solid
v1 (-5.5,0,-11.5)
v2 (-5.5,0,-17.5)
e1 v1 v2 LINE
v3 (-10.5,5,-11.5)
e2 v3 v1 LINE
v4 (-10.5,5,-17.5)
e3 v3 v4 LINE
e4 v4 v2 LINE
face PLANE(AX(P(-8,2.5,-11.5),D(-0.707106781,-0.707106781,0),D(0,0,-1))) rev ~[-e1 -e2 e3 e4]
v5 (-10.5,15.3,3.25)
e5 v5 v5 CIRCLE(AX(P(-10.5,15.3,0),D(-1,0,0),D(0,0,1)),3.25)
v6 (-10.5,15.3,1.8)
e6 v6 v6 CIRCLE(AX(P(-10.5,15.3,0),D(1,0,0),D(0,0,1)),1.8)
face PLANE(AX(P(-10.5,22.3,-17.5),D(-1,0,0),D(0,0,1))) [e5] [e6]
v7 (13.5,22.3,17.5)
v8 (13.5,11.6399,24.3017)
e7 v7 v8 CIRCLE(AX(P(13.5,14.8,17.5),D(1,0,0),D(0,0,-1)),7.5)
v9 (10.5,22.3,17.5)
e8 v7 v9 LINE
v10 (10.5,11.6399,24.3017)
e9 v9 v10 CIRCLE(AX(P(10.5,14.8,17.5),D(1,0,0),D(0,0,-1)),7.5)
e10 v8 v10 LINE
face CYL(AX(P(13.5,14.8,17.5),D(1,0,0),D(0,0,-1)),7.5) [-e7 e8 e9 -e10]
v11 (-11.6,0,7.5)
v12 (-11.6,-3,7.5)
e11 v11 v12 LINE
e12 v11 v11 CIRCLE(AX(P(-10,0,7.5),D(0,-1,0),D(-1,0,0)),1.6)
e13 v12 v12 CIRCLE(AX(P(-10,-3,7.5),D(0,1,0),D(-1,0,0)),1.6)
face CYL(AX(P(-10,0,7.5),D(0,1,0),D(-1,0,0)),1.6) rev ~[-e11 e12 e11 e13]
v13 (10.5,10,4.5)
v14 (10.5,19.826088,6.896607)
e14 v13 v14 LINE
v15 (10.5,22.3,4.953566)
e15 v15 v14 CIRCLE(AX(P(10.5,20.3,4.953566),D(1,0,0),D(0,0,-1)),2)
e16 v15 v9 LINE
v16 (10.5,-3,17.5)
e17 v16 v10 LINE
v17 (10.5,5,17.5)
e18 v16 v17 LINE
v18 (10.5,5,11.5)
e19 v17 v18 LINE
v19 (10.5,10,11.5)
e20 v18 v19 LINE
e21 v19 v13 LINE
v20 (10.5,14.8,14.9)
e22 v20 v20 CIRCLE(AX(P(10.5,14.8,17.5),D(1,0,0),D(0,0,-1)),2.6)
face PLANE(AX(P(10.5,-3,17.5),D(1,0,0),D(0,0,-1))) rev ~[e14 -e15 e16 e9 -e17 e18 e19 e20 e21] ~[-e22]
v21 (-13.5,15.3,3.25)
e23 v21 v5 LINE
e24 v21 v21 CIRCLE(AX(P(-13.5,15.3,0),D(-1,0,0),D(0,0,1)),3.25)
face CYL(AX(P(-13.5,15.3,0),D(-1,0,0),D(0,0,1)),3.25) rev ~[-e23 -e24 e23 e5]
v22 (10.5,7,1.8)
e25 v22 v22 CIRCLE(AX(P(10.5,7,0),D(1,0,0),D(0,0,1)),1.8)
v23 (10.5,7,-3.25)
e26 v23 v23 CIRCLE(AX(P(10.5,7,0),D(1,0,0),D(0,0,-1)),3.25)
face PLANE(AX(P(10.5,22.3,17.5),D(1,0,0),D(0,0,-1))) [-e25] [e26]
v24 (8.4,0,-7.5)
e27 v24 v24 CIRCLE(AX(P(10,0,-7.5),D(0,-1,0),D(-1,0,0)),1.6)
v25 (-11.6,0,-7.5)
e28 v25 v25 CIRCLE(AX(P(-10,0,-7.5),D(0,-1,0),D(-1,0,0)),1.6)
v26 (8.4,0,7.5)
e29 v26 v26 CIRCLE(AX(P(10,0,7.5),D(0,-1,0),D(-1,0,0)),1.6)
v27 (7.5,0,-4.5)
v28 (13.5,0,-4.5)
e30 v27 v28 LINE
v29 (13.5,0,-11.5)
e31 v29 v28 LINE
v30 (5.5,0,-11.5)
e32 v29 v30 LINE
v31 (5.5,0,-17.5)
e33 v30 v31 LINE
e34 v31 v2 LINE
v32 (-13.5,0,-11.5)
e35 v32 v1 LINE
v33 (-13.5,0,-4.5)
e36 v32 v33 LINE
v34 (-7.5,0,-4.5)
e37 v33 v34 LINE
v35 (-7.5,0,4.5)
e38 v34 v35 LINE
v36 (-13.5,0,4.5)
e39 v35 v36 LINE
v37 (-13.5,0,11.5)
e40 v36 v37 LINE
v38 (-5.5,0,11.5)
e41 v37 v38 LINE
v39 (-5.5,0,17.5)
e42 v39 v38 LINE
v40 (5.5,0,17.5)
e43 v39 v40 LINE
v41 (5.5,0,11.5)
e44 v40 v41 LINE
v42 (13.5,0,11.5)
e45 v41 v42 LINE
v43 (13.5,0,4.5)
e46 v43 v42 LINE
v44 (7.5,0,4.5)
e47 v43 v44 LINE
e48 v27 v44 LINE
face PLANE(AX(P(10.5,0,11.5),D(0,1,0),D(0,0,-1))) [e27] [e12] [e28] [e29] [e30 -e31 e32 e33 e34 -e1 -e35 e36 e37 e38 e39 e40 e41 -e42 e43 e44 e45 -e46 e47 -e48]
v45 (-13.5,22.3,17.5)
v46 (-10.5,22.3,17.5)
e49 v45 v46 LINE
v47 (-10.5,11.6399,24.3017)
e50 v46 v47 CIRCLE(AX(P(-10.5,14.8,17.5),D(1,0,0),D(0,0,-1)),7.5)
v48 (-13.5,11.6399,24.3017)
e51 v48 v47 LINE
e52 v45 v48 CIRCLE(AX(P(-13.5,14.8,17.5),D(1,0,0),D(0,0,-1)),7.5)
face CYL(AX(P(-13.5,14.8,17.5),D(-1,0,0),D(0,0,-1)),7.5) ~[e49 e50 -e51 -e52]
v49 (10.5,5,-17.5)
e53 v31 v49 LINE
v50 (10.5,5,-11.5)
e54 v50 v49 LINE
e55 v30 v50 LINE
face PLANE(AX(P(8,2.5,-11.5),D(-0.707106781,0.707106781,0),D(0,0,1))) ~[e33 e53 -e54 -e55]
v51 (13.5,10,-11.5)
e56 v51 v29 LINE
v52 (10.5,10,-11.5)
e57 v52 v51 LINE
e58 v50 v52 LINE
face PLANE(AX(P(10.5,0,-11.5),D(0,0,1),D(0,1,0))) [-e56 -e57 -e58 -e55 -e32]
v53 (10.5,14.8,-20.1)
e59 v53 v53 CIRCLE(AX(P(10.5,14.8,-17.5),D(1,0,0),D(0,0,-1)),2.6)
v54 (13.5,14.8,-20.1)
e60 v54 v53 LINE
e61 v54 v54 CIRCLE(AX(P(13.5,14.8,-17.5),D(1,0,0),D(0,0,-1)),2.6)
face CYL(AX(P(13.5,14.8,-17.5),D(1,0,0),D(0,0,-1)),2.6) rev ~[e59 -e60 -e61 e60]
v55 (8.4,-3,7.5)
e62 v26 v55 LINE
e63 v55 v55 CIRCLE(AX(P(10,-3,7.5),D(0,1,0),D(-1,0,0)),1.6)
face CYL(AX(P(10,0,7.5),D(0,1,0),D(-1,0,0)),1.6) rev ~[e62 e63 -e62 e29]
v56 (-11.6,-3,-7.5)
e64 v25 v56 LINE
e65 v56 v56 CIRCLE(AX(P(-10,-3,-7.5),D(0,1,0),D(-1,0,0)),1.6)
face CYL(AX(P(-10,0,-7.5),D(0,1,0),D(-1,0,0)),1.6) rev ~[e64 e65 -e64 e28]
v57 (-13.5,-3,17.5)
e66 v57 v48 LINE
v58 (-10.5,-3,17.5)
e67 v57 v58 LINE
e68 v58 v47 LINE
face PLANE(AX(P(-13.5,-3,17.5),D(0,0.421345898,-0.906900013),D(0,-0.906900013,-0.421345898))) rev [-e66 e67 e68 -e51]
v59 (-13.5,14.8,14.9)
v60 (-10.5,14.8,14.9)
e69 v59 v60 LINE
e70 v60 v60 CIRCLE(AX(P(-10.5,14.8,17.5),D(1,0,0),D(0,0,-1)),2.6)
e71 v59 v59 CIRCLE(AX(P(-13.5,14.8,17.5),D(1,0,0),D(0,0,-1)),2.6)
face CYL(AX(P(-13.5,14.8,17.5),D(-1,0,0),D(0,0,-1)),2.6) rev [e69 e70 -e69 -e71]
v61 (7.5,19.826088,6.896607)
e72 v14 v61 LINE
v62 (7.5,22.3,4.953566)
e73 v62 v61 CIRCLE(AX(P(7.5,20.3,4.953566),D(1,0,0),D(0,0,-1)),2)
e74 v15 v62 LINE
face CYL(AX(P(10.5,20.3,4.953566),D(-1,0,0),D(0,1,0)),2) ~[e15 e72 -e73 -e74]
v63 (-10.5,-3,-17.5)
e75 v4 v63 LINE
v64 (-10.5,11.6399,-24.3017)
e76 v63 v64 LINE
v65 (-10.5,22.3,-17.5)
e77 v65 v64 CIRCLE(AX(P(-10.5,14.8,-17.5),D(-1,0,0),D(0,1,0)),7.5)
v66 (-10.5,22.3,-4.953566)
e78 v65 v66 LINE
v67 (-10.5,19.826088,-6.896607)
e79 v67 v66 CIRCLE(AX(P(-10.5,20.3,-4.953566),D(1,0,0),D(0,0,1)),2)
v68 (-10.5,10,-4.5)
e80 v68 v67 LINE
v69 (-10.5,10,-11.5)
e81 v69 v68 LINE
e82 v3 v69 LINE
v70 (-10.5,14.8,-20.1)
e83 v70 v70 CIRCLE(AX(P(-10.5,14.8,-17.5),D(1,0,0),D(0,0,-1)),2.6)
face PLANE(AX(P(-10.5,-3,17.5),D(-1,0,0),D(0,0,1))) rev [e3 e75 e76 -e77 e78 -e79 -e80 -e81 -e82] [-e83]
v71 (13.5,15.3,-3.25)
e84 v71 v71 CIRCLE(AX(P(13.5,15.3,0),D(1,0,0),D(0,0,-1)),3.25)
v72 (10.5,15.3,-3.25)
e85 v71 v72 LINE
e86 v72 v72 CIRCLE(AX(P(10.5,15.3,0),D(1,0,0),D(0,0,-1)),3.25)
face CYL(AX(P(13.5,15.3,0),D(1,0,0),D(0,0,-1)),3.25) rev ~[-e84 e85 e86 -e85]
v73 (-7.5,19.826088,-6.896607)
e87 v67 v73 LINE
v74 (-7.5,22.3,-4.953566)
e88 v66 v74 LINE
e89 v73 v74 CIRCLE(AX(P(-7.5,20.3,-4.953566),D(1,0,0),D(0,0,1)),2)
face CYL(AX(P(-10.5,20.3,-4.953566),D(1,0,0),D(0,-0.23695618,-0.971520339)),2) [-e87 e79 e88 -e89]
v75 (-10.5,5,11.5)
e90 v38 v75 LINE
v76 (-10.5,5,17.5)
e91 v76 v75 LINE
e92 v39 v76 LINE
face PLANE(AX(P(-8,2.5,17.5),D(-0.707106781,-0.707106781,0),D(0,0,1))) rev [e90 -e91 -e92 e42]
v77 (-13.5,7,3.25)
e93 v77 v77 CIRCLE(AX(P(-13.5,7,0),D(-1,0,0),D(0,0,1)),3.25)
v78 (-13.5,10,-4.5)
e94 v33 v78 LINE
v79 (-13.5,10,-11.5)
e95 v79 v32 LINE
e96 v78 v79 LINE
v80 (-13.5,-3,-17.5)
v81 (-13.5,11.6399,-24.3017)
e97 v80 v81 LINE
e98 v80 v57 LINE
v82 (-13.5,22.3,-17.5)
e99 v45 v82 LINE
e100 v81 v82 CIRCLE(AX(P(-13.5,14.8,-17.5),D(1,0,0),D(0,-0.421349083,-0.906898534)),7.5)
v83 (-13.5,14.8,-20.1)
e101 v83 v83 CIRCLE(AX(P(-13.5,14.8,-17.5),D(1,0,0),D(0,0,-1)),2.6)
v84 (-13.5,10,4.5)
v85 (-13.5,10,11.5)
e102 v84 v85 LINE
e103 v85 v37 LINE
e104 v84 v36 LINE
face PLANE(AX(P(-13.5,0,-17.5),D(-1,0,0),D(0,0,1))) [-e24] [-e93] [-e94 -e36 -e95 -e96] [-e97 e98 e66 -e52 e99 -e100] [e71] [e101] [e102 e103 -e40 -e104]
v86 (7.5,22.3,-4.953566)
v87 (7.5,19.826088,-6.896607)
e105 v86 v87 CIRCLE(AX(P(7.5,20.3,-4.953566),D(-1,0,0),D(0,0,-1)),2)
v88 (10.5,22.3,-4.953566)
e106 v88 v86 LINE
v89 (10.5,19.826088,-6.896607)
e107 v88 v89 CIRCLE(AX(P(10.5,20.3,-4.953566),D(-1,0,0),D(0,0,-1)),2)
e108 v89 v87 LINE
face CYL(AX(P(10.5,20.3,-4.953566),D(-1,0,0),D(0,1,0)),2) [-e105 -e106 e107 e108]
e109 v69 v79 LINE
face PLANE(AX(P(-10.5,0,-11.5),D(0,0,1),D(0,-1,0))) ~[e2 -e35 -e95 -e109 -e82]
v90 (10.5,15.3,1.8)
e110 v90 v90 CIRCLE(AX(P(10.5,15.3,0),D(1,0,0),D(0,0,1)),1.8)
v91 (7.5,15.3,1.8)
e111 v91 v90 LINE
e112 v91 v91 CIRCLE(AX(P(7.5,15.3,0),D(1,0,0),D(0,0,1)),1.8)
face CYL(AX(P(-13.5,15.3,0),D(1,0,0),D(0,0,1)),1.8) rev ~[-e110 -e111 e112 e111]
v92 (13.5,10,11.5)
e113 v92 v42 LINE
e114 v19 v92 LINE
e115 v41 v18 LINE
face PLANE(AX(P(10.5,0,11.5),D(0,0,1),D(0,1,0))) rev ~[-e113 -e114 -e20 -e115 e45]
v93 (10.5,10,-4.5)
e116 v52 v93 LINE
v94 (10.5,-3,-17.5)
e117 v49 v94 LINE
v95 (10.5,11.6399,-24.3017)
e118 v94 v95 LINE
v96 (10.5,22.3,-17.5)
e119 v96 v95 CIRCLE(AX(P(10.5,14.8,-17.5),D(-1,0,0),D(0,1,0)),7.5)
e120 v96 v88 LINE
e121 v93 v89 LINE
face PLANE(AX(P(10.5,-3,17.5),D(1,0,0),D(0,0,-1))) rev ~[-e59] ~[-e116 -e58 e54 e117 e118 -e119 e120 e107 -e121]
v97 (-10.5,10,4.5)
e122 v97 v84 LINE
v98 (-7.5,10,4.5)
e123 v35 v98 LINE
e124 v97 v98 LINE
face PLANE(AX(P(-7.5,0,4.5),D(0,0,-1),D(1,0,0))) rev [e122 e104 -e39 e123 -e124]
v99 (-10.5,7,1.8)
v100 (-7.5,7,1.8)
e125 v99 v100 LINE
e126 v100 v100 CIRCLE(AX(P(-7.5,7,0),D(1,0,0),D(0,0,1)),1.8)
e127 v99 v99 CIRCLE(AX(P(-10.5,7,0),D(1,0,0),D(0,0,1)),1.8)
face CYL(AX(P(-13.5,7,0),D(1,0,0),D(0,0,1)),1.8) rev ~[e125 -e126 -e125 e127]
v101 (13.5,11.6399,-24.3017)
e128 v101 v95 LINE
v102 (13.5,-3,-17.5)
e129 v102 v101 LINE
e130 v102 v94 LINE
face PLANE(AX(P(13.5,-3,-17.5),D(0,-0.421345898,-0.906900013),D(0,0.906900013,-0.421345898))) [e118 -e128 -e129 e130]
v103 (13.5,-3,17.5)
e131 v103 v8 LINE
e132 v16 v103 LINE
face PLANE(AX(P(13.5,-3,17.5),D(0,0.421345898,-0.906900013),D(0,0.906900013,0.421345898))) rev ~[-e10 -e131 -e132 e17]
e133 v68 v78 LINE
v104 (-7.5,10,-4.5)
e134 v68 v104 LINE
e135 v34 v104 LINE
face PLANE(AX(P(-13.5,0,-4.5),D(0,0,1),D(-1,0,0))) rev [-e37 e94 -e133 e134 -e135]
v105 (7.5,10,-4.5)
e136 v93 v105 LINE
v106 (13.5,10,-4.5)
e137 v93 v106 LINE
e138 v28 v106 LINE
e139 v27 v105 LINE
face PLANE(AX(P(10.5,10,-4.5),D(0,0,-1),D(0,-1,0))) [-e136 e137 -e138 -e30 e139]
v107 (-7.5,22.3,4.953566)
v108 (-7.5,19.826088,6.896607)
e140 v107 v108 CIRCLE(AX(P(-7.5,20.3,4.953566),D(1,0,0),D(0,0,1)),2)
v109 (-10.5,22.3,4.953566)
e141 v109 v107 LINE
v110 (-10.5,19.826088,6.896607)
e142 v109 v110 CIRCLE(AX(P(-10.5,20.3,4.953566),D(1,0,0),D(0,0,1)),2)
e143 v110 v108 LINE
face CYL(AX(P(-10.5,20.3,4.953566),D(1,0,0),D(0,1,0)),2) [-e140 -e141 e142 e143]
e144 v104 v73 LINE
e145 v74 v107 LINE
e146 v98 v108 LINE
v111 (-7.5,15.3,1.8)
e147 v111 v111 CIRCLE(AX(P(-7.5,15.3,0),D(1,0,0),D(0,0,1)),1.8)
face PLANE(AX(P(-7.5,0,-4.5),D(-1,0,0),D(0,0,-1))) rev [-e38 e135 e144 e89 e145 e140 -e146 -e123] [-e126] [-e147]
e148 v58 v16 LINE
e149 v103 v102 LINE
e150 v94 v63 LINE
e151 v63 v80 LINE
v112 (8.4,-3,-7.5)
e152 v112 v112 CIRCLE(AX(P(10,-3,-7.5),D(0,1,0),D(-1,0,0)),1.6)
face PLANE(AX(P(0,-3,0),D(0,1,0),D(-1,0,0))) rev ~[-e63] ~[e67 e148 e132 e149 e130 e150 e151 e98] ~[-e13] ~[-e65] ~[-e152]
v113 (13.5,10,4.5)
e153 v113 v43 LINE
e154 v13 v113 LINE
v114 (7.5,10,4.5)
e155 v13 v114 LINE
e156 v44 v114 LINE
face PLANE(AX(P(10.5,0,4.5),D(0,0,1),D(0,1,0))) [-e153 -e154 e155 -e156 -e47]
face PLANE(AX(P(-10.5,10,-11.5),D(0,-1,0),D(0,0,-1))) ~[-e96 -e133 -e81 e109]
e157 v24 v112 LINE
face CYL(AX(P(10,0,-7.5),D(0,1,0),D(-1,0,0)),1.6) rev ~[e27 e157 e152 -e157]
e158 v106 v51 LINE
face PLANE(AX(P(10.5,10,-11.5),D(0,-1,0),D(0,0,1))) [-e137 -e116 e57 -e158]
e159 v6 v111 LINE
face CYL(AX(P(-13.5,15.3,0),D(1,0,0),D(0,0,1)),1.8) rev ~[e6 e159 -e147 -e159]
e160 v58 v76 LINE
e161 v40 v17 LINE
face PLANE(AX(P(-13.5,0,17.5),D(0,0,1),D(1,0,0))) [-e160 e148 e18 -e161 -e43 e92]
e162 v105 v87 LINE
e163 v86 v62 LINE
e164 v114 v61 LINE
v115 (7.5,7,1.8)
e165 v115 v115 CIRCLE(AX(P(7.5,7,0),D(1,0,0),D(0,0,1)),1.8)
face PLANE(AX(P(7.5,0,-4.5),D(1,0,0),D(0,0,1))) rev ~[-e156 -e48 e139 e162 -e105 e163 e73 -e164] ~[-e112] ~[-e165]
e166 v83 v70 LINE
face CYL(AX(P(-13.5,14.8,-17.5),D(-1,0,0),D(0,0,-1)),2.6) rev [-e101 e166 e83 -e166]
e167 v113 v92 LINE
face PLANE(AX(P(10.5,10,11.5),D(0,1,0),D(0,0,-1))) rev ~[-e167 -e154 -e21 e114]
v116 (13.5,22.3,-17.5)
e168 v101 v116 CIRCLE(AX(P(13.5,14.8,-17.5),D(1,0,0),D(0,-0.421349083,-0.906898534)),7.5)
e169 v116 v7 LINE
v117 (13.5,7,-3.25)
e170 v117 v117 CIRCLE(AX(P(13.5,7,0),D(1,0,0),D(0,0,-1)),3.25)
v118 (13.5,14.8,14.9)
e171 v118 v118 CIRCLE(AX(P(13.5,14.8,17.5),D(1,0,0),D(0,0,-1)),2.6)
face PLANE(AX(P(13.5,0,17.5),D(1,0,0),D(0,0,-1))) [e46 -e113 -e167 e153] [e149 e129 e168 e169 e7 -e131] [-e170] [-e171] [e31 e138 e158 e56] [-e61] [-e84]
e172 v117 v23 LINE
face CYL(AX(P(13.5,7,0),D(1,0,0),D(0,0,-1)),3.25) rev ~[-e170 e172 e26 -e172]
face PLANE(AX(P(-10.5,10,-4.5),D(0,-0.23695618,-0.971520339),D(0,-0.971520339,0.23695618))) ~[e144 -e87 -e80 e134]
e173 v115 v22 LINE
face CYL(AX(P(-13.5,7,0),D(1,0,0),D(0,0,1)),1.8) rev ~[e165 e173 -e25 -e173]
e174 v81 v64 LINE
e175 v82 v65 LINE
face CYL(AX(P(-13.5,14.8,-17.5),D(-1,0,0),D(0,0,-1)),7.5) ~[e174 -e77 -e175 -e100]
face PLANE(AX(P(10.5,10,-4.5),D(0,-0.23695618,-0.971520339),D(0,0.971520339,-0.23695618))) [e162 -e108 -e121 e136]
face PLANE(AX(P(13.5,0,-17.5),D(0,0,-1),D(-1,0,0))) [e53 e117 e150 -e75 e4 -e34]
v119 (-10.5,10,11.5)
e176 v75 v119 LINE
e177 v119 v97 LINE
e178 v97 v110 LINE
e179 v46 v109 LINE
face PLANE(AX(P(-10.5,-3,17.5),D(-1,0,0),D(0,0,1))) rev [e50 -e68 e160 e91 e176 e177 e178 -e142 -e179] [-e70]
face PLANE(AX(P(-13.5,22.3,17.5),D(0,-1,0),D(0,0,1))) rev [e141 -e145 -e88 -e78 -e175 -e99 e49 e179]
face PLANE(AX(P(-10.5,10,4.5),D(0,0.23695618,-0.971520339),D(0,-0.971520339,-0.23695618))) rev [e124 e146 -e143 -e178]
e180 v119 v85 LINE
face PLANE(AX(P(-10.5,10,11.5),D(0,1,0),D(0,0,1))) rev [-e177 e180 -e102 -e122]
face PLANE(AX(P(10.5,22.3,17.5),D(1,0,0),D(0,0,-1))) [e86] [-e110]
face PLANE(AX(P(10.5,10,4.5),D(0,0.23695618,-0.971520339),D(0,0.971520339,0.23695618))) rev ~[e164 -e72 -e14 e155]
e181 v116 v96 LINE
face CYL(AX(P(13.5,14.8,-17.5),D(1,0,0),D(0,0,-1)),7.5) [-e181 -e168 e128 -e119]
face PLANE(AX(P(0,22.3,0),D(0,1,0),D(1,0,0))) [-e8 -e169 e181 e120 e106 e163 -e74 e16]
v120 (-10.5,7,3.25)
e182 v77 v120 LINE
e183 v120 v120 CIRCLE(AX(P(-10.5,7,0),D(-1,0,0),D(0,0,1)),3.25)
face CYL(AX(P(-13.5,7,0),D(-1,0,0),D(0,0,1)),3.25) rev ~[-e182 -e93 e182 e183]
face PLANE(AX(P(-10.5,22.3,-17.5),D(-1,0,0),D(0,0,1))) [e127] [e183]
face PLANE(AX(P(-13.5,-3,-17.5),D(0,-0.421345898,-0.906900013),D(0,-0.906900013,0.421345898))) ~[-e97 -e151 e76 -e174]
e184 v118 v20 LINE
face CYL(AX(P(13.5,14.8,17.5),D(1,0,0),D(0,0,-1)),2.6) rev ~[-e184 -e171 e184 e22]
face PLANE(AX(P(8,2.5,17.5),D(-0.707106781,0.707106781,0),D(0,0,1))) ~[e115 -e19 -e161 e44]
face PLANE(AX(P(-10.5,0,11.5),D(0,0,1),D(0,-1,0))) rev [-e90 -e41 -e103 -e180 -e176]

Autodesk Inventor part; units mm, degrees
ref_plane "YZ Plane" through (0, 0, 0) normal (1, 0, 0) x (0, 1, 0)
ref_plane "XZ Plane" through (0, 0, 0) normal (0, 1, 0) x (-1, 0, 0)
ref_plane "XY Plane" through (0, 0, 0) normal (0, 0, 1) x (1, 0, 0)
sketch "Sketch8" plane through (0, 0, 0) normal (0, 1, 0) x (-1, 0, 0)
  line L0 (-13.5, -17.5) -> (13.5, -17.5)
  line L1 (13.5, -17.5) -> (13.5, 17.5)
  line L2 (13.5, 17.5) -> (-13.5, 17.5)
  line L3 (-13.5, 17.5) -> (-13.5, -17.5)
  line L4 (-13.5, -17.5) -> (13.5, 17.5) construction
  line L5 (13.5, -17.5) -> (-13.5, 17.5) construction
  circle A0 centre (10, -7.5) radius 1.6
  circle A1 centre (10, 7.5) radius 1.6
  circle A2 centre (-10, 7.5) radius 1.6
  circle A3 centre (-10, -7.5) radius 1.6
  point P0 (0, 0)
  dimension "d38" = 35
  dimension "d39" = 27
  dimension "d40" = 20
  dimension "d41" = 15
  dimension "d42" = 7.5
  dimension "d43" = 10
  dimension "d44" = 3.2
extrude "Extrusion7" add sketch "Sketch8" against normal blind 3
sketch "Sketch14" plane through (0, 0, 0) normal (0, 1, 0) x (1, 0, 0)
  line L0 (-13.5, 17.5) -> (-13.5, -17.5) projected
  line L1 (-13.5, -17.5) -> (13.5, -17.5) projected
  line L2 (13.5, -17.5) -> (13.5, 17.5) projected
  line L3 (13.5, 17.5) -> (-13.5, 17.5) projected
  circle A0 centre (-10, 7.5) radius 1.6 projected
  circle A1 centre (-10, -7.5) radius 1.6 projected
  circle A2 centre (10, -7.5) radius 1.6 projected
  circle A3 centre (10, 7.5) radius 1.6 projected
  line L4 (13.5, -17.5) -> (13.5, 17.5) projected
  line L5 (13.5, 4.5) -> (7.5, 4.5)
  line L6 (7.5, 4.5) -> (7.5, -4.5)
  line L7 (7.5, -4.5) -> (13.5, -4.5)
  line L8 (13.5, -4.5) -> (13.5, 4.5)
  point P0 (0, 0)
  dimension "d79" = 7.5
  dimension "d80" = 3
  dimension "d81" = 3
extrude "Extrusion12" add sketch "Sketch14" along normal blind 22.3 contours L2 L7 L6 L5
sketch "Sketch15" plane through (13.5, -3, 17.5) normal (1, 0, 0) x (0, 0, -1)
  line L0 (0, 3) -> (13, 3) projected
  line L1 (0, 3) -> (0, 0) projected
  line L2 (35, 0) -> (0, 0) projected
  line L3 (35, 3) -> (35, 0) projected
  line L4 (22, 3) -> (35, 3) projected
  line L5 (22, 3) -> (22, 25.3) projected
  line L6 (13, 25.3) -> (22, 25.3) projected
  line L7 (13, 3) -> (13, 25.3) projected
  line L8 (35, 3) -> (35, 0) projected
  line L9 (35, 0) -> (41.8017, 14.6399)
  circle A0 centre (35, 17.8) radius 2.6
  circle A1 centre (35, 17.8) radius 7.5
  circle A2 centre (0, 17.8) radius 2.6
  circle A3 centre (0, 17.8) radius 7.5
  line L10 (-275, -9) -> (225, -9) projected
  line L11 (0, 0) -> (-6.8017, 14.6399)
  line L12 (0, 25.3) -> (35, 25.3)
  point P0 (17.5, 3)
  point P1 (13, 25.3)
  point P2 (22, 25.3)
  dimension "d84" = 5.2
  dimension "d85" = 35
  dimension "d86" = 17.5
  dimension "d87" = 26.8
  dimension "d88" = 15
extrude "Extrusion13" add sketch "Sketch15" against normal blind 3 contours L1 L11 A3 L12 L7 L0 | L3 L4 L5 L12 A1 L9 | A3 | A1
sketch "Sketch16" plane through (10.5, -3, 17.5) normal (-1, 0, 0) x (0, 0, 1)
  arc A0 (-35, 25.3) -> (-41.8017, 14.6399) centre (-35, 17.8) ccw projected
  line L0 (-41.8017, 14.6399) -> (-35, 0) projected
  line L1 (-35, 3) -> (-35, 0) projected
  line L2 (-26.5199, 3) -> (-35, 3) projected
  line L3 (-26.5199, 3) -> (-23.4801, 3) projected
  line L4 (-22, 3) -> (-23.4801, 3) projected
  line L5 (-22, 25.3) -> (-22, 3) projected
  line L6 (-22, 25.3) -> (-35, 25.3) projected
  circle A1 centre (-35, 17.8) radius 2.6 projected
  arc A2 (6.8017, 14.6399) -> (0, 25.3) centre (0, 17.8) ccw projected
  line L7 (0, 25.3) -> (-13, 25.3) projected
  line L8 (-13, 3) -> (-13, 25.3) projected
  line L9 (-11.5199, 3) -> (-13, 3) projected
  line L10 (-11.5199, 3) -> (-8.4801, 3) projected
  line L11 (0, 3) -> (-8.4801, 3) projected
  line L12 (0, 0) -> (0, 3) projected
  line L13 (0, 0) -> (6.8017, 14.6399) projected
  circle A3 centre (0, 17.8) radius 2.6 projected
  line L14 (-22, 3) -> (-29, 3)
  line L15 (-29, 3) -> (-29, 13)
  line L16 (-29, 13) -> (-22, 13)
  line L17 (-22, 13) -> (-22, 3)
  line L18 (-11.5199, 3) -> (-13, 3) projected
  line L19 (-13, 3) -> (-6, 3)
  line L20 (-6, 3) -> (-6, 13)
  line L21 (-6, 13) -> (-13, 13)
  line L22 (-13, 13) -> (-13, 3)
  line L23 (-23.4, 0) -> (-26.6, 0) projected
  line L24 (-26.6, 3) -> (-23.4, 3) projected
  line L25 (-8.4, 0) -> (-11.6, 0) projected
  line L26 (-11.6, 3) -> (-8.4, 3) projected
  point P0 (-17.5, 3)
  point P1 (-10, 0)
  point P2 (-6, 3)
  dimension "d91" = 7
  dimension "d92" = 3
  dimension "d93" = 10
extrude "Extrusion14" cut sketch "Sketch16" against normal blind 22.3 contours L5 L4 L3 L2 L15 L16 | L21 L20 L11 L10 L9 L8
sketch "Sketch17" plane through (10.5, -3, 17.5) normal (-1, 0, 0) x (0, 0, 1)
  circle A0 centre (-35, 17.8) radius 2.6 projected
  line L0 (-29, 3) -> (-29, 13) projected
  line L1 (-29, 13) -> (-22, 13) projected
  line L2 (-22, 25.3) -> (-22, 13) projected
  line L3 (-22, 25.3) -> (-35, 25.3) projected
  arc A1 (-35, 25.3) -> (-41.8017, 14.6399) centre (-35, 17.8) ccw projected
  line L4 (-41.8017, 14.6399) -> (-35, 0) projected
  line L5 (-35, 3) -> (-35, 0) projected
  line L6 (-29, 3) -> (-35, 3) projected
  circle A2 centre (0, 17.8) radius 2.6 projected
  line L7 (-13, 13) -> (-6, 13) projected
  line L8 (-6, 13) -> (-6, 3) projected
  line L9 (0, 3) -> (-6, 3) projected
  line L10 (0, 0) -> (0, 3) projected
  line L11 (0, 0) -> (6.8017, 14.6399) projected
  arc A3 (6.8017, 14.6399) -> (0, 25.3) centre (0, 17.8) ccw projected
  line L12 (0, 25.3) -> (-13, 25.3) projected
  line L13 (-13, 13) -> (-13, 25.3) projected
  line L14 (-13, 13) -> (-10, 25.3)
  line L15 (-22, 13) -> (-25, 25.3)
  line L16 (-35, 25.3) -> (0, 25.3) projected
  point P0 (-17.5, 3)
  dimension "d96" = 15
extrude "Extrusion15" add sketch "Sketch17" along normal up to surface (3 mm away) contours L12 L14 L13 | L15 L3 L2
fillet "Fillet2" radius 2 2 edges at (9, 22.3, -7.5) (9, 22.3, 7.5)
mirror "Mirror1" about plane through (0, 0, 0) normal (1, 0, 0) of "Extrusion12", "Extrusion13", "Extrusion14", "Extrusion15", "Fillet2"
chamfer "Chamfer1" distance 5 angle 45 4 edges at (-10.5, 0, 14.5) (-10.5, 0, -14.5) (10.5, 0, 14.5) (10.5, 0, -14.5)
sketch "Sketch18" plane through (-13.5, 22.3, -17.5) normal (-1, 0, 0) x (0, 0, 1)
  line L0 (13, -22.3) -> (6, -22.3) projected
  line L1 (6, -22.3) -> (6, -12.3) projected
  line L2 (6, -12.3) -> (13, -12.3) projected
  line L3 (13, -12.3) -> (13, -22.3) projected
  line L4 (29, -22.3) -> (22, -22.3) projected
  line L5 (22, -22.3) -> (22, -12.3) projected
  line L6 (22, -12.3) -> (29, -12.3) projected
  line L7 (29, -12.3) -> (29, -22.3) projected
  circle A0 centre (0, -7.5) radius 2.6 projected
  circle A1 centre (35, -7.5) radius 2.6 projected
  line L8 (41.8017, -10.6601) -> (35, -25.3) projected
  arc A2 (41.8017, -10.6601) -> (35, 0) centre (35, -7.5) ccw projected
  line L9 (0, 0) -> (35, 0) projected
  arc A3 (0, 0) -> (-6.8017, -10.6601) centre (0, -7.5) ccw projected
  line L10 (0, -25.3) -> (-6.8017, -10.6601) projected
  line L11 (35, -25.3) -> (0, -25.3) projected
  point P0 (17.5, -22.3)
  point P1 (17.5, -7)
  point P2 (17.5, -15.3)
  dimension "d103" = 7
  dimension "d104" = 10
hole "Hole3" at (-13.5, 15.3, 0) at (-13.5, 7, 0) direction (1, 0, 0) diameter 3.6 end through all clearance for "Slotted Cheese Head Screw ISO 1207" size "M3" standard "ISO"
sketch "Sketch19" plane through (13.5, 22.3, 17.5) normal (1, 0, 0) x (0, 0, -1)
  circle A0 centre (17.5, -15.3) radius 1.8 projected
  circle A1 centre (17.5, -7) radius 1.8 projected
  circle A2 centre (17.5, -15.3) radius 3.25
  circle A3 centre (17.5, -7) radius 3.25
  point P0 (17.5, -22.3)
  dimension "d112" = 6.5
extrude "Extrusion16" cut sketch "Sketch19" against normal blind 3 contours A0 | A1 | A2 | A3
sketch "Sketch20" plane through (-13.5, 22.3, -17.5) normal (-1, 0, 0) x (0, 0, 1)
  circle A0 centre (17.5, -15.3) radius 3.25 projected
  circle A1 centre (17.5, -7) radius 3.25 projected
  point P0 (17.5, -22.3)
extrude "Extrusion17" cut sketch "Sketch20" against normal blind 3
equation "\"d42\" = 0.5 * d41"
equation "\"d43\" = 0.5 * d40"
equation "\"d81\" = d80"
equation "\"d86\" = 0.5 * d85"
properties part number "Y Axis Gantry Baseblock (CNC)" material "ABS Plastic"
